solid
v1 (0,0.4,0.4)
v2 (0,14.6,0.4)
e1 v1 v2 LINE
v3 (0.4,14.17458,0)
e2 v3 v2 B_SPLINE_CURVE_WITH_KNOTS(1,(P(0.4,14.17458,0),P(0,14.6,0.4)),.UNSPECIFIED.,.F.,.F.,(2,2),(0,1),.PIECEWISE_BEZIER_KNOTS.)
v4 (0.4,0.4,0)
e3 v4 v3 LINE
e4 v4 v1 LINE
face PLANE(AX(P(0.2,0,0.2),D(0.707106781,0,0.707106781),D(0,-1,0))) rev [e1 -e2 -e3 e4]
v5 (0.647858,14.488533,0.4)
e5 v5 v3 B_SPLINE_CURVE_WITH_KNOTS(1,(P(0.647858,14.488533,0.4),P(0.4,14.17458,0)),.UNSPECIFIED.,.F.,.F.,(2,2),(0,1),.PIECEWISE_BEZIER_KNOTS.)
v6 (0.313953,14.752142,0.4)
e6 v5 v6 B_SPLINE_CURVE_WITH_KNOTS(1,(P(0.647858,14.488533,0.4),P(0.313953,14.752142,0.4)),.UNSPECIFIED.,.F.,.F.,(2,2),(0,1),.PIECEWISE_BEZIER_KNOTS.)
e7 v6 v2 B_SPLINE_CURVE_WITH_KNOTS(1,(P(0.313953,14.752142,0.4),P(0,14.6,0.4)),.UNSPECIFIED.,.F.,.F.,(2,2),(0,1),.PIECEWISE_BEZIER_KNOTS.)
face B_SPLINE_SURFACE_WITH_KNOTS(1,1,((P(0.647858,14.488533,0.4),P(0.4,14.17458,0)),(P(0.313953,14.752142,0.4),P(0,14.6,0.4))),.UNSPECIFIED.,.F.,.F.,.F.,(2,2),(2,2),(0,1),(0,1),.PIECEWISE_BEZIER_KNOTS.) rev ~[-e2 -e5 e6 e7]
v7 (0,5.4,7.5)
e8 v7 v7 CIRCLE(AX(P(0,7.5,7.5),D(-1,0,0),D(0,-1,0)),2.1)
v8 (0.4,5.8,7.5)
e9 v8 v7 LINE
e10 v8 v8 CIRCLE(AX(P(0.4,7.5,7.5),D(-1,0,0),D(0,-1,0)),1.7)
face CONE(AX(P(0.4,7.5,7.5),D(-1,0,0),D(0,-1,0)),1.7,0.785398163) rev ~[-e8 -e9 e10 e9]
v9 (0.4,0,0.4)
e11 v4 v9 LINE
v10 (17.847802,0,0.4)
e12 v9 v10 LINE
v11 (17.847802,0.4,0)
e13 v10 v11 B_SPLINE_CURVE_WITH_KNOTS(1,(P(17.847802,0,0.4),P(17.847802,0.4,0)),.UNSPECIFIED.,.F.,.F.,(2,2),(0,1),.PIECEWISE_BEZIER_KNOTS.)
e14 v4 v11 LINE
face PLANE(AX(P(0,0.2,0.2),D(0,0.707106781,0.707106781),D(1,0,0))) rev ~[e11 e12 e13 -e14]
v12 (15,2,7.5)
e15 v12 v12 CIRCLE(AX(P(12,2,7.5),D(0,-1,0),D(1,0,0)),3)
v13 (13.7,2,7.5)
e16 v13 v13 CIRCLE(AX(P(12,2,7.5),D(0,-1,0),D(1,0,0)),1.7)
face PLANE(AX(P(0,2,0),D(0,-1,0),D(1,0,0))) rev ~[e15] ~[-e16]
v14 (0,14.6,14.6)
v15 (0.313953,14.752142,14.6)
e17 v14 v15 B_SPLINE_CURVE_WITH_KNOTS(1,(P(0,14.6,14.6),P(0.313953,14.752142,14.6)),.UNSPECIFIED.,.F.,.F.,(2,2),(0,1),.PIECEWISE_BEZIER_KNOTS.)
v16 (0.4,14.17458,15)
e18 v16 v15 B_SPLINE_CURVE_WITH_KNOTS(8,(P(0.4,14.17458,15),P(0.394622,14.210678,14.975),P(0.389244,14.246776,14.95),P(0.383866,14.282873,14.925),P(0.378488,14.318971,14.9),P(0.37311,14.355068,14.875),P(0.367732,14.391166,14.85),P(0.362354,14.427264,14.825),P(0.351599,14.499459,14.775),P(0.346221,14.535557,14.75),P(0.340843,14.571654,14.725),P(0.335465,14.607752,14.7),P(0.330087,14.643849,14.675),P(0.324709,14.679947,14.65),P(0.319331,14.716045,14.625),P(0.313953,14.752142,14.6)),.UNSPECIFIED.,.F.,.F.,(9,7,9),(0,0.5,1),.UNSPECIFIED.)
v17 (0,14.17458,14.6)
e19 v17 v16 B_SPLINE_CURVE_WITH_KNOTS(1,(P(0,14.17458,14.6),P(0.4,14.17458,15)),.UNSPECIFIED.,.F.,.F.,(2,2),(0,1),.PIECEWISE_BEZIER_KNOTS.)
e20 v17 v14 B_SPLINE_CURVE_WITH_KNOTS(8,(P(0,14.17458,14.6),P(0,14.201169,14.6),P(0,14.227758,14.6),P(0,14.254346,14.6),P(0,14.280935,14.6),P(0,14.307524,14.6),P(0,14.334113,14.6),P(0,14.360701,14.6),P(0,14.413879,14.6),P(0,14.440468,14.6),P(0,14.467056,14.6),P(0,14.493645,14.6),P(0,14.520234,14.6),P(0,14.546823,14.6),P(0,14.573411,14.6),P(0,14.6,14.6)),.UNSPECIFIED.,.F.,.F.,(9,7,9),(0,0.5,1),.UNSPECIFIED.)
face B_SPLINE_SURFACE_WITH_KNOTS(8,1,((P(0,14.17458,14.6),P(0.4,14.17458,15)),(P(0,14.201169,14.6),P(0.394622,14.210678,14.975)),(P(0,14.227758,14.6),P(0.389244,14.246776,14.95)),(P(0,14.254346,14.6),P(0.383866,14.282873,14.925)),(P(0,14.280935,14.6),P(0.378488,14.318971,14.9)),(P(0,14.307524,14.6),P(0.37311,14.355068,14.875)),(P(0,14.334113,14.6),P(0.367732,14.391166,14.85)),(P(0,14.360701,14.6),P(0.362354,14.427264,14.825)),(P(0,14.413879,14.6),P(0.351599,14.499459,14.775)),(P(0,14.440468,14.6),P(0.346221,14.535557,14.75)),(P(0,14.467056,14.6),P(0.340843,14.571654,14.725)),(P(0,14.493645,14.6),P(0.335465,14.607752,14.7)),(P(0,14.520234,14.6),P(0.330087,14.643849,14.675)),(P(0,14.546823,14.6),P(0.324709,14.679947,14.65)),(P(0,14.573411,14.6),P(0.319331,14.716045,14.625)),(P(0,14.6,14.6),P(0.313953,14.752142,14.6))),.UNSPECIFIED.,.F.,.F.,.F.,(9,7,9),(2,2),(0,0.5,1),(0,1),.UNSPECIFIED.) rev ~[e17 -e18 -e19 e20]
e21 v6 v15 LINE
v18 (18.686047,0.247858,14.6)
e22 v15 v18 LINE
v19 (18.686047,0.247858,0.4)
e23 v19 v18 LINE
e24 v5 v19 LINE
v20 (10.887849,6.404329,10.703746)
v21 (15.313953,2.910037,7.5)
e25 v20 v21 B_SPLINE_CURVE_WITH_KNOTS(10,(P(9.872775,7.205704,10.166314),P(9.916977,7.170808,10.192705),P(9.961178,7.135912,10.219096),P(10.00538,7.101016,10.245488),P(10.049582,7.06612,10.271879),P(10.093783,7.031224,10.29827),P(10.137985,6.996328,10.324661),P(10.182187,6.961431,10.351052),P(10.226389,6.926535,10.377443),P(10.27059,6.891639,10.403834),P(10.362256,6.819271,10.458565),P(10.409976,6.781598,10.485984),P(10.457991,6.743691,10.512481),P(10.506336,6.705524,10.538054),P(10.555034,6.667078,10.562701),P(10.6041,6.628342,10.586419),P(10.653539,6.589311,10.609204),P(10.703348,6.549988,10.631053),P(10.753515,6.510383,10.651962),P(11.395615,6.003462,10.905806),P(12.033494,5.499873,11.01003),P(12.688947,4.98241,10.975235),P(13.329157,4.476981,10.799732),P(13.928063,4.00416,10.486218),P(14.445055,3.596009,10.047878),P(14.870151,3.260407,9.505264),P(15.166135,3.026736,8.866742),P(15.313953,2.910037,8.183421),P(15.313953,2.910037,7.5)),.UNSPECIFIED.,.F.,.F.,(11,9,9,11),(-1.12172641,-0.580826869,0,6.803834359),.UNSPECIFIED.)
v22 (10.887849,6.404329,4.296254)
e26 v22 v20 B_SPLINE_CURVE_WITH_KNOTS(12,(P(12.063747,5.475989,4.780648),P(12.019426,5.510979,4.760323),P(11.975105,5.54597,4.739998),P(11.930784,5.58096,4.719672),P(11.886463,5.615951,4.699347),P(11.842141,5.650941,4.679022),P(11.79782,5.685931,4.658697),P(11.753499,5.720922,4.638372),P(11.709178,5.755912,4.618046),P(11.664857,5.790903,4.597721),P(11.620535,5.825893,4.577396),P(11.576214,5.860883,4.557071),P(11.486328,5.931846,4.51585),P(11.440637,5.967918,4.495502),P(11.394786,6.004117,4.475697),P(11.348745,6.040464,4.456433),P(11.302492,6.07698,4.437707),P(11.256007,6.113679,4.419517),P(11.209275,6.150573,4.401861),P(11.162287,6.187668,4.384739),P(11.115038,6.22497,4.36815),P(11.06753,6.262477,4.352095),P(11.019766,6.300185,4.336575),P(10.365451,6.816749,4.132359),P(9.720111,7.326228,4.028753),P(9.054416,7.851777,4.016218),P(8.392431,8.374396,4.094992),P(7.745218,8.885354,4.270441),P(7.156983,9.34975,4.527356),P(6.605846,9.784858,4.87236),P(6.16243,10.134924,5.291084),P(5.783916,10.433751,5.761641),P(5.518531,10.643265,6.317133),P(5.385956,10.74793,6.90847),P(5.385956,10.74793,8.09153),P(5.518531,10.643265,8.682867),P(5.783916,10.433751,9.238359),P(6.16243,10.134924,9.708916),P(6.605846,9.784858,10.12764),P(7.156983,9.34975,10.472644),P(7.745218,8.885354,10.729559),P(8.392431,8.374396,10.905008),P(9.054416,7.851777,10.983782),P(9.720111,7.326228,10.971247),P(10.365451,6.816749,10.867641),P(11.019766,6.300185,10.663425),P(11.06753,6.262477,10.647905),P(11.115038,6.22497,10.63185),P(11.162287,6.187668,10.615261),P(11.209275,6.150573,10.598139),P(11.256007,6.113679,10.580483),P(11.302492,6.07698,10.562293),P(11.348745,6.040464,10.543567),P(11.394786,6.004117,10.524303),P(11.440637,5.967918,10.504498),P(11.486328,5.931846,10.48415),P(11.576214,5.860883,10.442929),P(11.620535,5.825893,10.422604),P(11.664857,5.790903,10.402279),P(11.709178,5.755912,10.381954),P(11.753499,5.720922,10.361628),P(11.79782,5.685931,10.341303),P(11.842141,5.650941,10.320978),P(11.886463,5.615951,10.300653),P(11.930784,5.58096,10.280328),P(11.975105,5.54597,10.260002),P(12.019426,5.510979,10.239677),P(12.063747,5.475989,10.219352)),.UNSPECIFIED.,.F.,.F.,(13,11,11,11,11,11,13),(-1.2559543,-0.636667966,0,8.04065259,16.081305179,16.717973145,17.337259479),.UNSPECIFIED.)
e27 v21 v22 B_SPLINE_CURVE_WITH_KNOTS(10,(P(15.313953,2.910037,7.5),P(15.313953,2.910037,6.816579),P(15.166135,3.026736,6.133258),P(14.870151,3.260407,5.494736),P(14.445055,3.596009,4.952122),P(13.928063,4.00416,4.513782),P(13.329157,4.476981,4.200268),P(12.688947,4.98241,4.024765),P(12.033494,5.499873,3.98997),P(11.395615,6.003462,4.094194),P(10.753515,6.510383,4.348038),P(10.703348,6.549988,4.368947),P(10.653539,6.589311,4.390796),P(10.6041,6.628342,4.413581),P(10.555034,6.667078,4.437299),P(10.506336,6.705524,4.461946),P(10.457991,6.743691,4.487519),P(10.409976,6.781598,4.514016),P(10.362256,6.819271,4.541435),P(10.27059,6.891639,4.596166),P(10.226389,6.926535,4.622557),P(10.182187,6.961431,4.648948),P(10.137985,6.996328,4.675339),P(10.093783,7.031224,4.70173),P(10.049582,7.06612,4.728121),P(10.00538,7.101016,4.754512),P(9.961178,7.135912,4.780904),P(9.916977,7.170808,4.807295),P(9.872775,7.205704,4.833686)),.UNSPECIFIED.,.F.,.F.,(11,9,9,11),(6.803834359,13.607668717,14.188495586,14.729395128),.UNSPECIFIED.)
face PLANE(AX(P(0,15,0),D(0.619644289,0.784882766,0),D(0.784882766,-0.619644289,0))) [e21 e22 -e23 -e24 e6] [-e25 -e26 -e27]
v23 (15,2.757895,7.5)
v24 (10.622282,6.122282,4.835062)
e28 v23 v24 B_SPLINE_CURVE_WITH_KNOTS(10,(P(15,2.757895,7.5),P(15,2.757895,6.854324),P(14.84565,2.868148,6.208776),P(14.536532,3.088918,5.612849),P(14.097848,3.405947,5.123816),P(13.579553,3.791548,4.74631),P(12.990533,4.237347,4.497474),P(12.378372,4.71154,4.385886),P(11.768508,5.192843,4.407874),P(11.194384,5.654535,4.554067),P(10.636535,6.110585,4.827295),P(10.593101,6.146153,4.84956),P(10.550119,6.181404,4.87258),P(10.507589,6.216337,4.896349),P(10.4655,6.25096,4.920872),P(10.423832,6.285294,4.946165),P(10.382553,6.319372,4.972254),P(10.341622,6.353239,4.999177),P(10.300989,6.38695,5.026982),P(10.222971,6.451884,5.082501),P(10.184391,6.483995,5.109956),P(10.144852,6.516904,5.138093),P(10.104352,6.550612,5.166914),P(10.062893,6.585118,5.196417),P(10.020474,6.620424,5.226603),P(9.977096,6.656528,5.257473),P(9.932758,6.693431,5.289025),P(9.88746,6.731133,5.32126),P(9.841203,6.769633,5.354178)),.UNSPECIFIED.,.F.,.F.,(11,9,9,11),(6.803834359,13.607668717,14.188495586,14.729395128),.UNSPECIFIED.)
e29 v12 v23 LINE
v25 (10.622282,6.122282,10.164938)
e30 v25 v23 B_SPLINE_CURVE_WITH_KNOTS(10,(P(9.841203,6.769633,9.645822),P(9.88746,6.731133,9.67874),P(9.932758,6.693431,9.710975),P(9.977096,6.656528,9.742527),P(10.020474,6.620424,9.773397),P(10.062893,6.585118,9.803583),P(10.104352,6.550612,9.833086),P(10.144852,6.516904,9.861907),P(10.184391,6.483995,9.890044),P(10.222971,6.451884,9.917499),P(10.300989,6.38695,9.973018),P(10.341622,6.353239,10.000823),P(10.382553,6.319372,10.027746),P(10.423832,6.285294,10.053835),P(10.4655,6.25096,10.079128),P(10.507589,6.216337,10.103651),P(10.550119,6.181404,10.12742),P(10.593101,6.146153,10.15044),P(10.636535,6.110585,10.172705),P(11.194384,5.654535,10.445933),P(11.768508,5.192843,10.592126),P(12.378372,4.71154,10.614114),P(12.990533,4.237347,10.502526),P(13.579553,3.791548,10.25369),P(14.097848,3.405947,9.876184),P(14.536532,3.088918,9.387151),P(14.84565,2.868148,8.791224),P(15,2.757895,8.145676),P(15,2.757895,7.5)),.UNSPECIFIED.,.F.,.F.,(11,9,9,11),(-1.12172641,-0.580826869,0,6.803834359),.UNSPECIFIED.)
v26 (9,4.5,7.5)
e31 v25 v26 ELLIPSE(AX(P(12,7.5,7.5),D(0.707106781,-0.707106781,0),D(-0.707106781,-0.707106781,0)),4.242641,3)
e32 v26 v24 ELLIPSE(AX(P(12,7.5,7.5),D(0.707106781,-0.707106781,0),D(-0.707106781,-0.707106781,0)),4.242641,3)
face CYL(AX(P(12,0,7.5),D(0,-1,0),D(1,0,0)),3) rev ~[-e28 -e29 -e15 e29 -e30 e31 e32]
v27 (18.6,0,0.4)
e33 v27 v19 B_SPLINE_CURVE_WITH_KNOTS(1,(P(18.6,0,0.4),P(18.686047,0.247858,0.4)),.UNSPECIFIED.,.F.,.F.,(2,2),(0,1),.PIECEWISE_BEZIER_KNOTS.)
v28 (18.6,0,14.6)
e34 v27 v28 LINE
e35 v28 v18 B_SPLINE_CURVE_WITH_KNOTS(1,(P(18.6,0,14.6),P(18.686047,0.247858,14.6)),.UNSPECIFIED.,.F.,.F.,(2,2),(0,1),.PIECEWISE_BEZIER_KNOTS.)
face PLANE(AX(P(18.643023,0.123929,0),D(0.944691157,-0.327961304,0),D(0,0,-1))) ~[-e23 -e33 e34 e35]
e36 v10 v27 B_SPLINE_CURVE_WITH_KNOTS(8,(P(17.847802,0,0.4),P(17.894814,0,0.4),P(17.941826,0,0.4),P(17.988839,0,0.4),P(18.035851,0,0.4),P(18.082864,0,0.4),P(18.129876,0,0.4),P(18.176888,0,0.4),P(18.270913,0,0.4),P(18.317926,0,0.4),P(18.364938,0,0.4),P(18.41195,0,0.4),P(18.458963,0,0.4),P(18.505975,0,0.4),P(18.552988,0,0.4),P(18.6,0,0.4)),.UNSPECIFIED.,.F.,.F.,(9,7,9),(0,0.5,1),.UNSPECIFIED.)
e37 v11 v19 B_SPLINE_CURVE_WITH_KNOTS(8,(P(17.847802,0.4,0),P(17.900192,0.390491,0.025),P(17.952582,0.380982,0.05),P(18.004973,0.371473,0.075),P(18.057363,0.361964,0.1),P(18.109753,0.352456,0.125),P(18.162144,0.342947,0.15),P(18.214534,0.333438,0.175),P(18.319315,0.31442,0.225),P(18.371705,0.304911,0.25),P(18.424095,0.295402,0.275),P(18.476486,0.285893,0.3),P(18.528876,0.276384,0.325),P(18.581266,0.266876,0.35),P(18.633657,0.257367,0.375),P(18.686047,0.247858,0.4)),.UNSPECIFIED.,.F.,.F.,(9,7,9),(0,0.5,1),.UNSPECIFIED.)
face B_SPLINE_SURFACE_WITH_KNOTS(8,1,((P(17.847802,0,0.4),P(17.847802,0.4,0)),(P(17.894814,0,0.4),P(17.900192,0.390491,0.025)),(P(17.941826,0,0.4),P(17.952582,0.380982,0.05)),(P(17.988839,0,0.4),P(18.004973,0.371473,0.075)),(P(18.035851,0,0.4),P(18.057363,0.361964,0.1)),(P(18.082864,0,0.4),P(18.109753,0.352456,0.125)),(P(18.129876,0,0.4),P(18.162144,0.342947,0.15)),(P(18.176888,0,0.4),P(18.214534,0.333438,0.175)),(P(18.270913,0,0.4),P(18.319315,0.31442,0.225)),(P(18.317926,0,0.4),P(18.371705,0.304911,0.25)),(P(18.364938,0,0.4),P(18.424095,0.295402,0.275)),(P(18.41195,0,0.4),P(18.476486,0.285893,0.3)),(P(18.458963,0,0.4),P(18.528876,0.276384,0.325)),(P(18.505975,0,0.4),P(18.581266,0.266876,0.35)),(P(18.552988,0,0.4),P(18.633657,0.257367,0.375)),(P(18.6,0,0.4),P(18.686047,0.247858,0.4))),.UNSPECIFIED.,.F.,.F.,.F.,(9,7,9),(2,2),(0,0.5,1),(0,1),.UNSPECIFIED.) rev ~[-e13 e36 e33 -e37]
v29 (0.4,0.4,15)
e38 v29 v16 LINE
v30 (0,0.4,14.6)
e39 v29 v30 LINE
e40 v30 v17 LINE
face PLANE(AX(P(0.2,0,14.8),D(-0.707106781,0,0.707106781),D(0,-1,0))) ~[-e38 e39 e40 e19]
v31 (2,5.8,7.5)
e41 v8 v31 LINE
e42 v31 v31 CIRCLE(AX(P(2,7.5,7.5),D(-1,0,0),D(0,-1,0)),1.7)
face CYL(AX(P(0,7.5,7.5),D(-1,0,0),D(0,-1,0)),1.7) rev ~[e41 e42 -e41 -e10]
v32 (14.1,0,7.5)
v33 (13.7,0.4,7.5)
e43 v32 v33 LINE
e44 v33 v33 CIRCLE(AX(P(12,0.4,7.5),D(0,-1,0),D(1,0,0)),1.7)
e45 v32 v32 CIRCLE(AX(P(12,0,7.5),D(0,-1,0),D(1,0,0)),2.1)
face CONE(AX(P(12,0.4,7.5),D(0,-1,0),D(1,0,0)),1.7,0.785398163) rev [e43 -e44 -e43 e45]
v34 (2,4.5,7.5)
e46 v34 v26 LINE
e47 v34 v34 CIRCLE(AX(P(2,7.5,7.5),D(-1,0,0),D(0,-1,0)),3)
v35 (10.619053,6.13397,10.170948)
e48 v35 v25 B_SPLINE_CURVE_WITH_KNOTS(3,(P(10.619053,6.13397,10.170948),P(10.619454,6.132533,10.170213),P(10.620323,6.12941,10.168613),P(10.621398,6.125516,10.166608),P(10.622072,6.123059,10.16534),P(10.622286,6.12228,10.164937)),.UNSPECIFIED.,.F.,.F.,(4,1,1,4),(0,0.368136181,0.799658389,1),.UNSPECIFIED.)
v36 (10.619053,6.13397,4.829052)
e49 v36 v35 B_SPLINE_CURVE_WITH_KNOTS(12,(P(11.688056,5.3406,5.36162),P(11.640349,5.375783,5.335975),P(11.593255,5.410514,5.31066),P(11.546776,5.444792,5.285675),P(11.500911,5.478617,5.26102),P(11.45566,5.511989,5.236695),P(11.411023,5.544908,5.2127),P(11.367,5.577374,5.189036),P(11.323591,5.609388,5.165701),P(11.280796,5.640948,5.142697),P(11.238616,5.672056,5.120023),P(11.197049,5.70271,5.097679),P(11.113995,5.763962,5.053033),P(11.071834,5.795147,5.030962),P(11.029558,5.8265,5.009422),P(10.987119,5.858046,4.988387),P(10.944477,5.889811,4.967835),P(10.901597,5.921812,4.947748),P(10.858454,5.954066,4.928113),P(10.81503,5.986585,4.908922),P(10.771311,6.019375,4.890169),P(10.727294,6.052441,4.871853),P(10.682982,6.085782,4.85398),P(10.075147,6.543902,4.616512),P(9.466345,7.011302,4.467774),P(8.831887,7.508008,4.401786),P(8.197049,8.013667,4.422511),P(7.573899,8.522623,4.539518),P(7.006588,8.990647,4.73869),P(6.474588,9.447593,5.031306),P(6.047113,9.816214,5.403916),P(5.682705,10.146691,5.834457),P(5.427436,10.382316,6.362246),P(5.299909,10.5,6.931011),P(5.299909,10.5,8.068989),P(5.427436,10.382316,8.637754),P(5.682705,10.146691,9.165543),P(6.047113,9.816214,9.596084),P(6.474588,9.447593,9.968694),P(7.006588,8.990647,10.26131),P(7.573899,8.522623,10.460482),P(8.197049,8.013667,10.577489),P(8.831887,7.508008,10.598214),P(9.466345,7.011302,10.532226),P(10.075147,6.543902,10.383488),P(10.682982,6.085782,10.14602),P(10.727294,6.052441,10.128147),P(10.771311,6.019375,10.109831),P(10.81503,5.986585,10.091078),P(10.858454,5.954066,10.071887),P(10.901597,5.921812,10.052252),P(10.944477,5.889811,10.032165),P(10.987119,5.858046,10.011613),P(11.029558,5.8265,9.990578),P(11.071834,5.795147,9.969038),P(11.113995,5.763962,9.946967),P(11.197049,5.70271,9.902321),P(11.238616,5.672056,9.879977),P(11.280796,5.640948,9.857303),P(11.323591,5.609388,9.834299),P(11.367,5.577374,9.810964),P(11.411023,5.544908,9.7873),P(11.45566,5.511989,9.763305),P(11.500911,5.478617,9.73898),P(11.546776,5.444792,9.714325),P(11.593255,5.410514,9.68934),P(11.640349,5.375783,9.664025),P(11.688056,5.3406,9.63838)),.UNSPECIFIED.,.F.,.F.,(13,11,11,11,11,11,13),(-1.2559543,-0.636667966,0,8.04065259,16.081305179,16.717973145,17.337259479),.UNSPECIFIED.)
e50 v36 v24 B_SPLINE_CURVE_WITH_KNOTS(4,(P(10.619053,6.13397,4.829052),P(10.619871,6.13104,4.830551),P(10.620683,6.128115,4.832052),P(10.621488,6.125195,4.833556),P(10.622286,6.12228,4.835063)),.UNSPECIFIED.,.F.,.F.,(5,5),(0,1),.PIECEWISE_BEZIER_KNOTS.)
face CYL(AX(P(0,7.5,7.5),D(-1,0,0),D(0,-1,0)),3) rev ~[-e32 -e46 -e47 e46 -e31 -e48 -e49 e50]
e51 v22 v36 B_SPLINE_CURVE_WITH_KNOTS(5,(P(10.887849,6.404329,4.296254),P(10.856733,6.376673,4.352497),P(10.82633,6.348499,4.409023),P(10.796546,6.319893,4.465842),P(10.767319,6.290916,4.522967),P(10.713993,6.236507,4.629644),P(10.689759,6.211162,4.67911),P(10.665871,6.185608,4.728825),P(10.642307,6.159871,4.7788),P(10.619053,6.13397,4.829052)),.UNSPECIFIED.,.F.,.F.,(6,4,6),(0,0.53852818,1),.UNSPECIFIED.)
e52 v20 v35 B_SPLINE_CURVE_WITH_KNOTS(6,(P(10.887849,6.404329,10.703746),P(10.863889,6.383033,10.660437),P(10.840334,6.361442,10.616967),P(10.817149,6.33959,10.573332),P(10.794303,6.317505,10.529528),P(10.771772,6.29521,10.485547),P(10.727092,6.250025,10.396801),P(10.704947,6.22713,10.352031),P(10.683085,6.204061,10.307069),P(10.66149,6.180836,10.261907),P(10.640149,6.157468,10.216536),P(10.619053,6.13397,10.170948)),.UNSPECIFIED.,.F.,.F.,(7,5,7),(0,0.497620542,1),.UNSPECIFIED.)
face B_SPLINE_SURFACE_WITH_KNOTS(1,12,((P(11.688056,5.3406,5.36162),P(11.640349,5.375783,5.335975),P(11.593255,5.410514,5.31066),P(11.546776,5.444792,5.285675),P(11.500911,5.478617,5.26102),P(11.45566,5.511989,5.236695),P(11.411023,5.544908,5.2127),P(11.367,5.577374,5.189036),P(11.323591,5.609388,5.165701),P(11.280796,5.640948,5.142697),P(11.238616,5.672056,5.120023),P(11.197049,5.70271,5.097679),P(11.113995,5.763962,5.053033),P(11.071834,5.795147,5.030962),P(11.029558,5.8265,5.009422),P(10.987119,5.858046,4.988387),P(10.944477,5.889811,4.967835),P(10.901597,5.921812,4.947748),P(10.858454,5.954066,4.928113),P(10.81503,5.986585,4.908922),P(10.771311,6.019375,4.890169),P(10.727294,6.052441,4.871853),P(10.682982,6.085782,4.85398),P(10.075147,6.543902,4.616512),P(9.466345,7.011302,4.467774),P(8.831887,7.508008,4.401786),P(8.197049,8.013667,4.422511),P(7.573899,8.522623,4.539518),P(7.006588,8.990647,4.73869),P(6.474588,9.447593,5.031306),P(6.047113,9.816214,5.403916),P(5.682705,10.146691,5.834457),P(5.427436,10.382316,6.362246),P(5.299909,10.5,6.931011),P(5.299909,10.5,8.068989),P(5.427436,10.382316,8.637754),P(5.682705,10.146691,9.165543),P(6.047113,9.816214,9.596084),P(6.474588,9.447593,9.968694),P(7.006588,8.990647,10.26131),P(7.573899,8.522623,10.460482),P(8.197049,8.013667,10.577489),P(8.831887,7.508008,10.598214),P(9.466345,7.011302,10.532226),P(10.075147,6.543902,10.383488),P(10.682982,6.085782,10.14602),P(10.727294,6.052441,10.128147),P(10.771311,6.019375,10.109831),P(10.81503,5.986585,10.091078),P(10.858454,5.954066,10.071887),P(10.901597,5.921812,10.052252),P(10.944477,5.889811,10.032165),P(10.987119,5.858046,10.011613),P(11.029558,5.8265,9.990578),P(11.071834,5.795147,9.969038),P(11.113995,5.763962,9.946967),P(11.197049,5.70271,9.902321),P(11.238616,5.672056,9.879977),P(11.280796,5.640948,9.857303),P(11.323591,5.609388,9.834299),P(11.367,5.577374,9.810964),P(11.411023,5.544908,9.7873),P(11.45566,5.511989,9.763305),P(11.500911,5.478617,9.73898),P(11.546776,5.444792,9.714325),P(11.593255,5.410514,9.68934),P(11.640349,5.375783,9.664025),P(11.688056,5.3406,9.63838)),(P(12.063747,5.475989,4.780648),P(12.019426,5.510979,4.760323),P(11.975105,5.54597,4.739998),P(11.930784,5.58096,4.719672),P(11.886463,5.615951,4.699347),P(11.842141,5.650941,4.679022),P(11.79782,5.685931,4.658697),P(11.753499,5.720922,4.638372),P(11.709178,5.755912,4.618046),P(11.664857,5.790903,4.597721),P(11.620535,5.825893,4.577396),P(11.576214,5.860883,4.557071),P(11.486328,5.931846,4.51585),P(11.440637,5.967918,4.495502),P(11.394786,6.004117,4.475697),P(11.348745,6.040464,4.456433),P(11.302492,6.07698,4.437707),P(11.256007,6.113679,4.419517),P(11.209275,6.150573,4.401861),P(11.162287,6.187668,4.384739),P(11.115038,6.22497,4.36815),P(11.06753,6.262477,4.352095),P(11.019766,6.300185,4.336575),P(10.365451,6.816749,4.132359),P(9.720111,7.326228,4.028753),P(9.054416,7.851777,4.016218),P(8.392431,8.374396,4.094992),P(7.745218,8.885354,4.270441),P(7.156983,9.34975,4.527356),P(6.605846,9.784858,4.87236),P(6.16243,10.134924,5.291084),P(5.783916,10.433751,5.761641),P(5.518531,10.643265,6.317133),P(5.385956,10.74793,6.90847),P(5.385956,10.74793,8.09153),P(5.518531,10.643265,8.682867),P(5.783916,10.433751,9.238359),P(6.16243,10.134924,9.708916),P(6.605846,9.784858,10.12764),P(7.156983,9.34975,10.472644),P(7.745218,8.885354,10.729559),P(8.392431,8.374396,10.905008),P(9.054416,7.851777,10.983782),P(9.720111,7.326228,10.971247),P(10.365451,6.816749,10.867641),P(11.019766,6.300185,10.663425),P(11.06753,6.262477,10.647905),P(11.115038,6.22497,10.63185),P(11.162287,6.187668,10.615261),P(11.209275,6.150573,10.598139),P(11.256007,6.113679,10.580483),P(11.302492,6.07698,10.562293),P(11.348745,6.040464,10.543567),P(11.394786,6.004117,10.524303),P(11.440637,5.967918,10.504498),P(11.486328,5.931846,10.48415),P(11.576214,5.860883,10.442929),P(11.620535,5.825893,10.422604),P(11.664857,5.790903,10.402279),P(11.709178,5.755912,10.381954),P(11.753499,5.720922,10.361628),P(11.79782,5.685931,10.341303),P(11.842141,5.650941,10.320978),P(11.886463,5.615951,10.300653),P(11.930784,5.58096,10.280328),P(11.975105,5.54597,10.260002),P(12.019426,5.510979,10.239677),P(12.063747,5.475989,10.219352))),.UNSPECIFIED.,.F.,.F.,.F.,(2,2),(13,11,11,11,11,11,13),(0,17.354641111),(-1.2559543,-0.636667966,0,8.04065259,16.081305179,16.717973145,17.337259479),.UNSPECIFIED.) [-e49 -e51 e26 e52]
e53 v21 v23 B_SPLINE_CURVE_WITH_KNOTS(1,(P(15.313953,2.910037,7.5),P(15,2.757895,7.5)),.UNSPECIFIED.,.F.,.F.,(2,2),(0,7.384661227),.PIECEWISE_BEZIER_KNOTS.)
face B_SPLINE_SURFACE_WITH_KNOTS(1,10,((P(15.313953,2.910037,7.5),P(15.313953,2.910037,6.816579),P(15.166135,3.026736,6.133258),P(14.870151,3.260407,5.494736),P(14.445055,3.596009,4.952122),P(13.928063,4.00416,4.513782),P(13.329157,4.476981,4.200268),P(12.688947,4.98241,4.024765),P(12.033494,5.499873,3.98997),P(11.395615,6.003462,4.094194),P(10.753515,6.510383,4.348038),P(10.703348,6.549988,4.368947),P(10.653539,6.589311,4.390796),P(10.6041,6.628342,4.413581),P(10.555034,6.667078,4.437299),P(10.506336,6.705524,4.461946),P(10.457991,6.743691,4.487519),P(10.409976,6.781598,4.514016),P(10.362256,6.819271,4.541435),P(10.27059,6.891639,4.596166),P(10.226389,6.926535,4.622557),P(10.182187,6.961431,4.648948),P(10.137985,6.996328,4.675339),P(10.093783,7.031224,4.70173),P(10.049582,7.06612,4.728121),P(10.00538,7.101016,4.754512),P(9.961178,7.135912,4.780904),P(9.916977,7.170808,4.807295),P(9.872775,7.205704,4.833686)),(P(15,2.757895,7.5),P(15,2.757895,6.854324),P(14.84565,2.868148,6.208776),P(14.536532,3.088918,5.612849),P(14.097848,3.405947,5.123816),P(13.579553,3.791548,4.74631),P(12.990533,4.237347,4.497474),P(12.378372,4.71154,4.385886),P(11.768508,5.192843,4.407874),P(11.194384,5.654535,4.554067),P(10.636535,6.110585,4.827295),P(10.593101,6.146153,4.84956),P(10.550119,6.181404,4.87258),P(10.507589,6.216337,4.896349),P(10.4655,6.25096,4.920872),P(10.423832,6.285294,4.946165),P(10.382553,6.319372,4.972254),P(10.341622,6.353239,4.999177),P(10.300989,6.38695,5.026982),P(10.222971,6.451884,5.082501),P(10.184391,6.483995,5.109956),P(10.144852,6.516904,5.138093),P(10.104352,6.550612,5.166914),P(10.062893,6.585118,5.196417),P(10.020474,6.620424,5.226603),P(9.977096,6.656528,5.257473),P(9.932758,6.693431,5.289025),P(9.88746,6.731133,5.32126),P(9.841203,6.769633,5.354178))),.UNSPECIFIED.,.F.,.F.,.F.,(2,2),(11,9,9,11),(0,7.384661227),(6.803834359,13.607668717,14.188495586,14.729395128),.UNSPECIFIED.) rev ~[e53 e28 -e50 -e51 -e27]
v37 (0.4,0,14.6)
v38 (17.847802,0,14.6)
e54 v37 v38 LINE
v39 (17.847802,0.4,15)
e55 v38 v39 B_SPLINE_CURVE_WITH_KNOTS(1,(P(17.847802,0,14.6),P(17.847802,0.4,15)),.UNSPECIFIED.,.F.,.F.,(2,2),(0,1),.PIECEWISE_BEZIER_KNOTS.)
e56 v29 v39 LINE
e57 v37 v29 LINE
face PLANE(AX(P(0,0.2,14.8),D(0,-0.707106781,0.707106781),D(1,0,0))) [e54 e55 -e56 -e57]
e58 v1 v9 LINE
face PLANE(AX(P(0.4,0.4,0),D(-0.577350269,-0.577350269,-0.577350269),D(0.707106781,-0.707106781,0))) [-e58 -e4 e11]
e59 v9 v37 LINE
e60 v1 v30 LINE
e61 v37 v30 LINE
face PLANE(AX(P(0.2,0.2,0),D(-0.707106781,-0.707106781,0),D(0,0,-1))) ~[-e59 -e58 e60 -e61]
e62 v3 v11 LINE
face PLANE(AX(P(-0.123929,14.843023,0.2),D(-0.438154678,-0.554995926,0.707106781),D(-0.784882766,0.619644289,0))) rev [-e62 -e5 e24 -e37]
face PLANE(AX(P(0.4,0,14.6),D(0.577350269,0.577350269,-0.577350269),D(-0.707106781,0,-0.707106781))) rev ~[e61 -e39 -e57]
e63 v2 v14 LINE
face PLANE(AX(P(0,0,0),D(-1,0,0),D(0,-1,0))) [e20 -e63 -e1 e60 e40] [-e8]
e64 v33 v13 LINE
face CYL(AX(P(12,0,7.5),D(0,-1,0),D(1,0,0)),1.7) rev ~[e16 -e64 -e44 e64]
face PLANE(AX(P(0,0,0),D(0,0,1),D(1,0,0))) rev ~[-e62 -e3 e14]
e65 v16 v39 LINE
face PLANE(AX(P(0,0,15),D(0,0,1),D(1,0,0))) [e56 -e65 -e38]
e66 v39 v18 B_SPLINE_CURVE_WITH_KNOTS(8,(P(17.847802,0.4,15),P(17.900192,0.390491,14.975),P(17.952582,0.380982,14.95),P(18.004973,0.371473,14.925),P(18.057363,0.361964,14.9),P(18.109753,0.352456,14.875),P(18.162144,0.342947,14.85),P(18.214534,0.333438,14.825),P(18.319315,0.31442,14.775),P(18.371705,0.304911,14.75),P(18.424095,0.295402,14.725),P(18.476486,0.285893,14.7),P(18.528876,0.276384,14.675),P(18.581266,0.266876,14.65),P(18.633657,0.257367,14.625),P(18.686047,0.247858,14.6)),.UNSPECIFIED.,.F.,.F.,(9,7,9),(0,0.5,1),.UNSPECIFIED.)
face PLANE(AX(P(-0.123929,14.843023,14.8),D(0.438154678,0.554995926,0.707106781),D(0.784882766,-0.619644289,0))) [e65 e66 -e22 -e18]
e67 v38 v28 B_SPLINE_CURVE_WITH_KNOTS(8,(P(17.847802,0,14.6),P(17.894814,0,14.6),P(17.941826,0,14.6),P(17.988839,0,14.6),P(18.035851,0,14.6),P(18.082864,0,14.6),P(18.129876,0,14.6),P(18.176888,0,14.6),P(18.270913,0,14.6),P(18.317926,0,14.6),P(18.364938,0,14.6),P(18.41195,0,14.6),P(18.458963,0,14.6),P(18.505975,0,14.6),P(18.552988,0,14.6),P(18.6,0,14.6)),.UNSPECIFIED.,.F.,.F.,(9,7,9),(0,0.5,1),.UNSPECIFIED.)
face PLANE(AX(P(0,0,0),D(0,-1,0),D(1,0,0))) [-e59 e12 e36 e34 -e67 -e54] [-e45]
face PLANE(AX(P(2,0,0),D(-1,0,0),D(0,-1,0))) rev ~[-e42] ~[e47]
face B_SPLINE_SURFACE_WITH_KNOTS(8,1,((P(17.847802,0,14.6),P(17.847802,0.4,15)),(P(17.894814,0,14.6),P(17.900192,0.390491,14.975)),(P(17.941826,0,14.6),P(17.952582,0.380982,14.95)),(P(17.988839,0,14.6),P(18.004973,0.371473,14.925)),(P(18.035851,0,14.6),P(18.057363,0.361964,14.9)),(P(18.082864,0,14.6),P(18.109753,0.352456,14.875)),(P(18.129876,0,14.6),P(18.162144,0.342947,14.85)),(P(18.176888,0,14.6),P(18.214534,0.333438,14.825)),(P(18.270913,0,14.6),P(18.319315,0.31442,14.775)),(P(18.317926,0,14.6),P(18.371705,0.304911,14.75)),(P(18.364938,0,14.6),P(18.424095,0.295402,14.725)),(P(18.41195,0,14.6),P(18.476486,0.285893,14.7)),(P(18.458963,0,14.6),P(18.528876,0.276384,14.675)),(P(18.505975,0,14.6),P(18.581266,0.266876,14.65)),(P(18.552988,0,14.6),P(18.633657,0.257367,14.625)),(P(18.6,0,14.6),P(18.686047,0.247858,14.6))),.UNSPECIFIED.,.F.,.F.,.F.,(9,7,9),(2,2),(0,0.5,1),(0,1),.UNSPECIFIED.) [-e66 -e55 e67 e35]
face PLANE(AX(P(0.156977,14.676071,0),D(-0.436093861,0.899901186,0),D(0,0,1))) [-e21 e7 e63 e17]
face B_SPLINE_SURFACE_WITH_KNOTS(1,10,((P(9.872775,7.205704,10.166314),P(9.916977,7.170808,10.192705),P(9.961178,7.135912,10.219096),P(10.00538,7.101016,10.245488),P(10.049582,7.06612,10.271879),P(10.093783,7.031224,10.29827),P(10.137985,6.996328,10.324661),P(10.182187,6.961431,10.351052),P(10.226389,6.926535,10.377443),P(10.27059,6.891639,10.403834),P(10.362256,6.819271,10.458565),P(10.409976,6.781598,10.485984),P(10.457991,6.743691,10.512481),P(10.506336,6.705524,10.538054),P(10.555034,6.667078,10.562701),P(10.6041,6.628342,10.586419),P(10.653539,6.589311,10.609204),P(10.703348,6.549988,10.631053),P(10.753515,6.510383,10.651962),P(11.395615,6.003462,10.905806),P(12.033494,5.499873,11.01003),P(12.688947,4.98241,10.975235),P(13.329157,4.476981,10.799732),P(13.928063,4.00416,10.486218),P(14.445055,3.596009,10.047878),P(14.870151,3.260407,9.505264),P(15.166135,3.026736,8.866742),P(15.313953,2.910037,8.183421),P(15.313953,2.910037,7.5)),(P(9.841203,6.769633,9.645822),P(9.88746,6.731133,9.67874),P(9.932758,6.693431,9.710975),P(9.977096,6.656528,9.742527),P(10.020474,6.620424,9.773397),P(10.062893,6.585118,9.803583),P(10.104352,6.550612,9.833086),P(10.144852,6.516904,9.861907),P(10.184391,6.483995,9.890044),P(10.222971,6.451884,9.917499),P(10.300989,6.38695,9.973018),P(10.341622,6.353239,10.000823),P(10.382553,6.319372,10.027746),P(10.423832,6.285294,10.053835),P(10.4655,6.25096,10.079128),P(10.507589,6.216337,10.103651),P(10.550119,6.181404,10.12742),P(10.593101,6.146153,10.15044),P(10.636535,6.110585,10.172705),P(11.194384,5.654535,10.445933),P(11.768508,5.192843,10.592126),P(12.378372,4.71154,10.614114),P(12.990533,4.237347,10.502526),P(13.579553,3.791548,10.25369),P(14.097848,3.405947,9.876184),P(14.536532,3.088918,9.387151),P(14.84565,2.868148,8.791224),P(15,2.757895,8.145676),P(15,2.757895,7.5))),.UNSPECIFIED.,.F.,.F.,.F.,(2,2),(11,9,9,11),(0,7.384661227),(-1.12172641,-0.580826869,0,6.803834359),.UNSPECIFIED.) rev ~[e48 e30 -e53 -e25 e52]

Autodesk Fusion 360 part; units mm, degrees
sketch "Sketch1" plane through (0, 0, 0) normal (0, 0, 1) x (1, 0, 0)
  line L0 (0, 0) -> (19, 0)
  line L1 (0, 0) -> (0, 15)
  line L2 (0, 15) -> (19, 0)
  dimension "d1" = 19
  dimension "d2" = 15
extrude "Extrude1" add sketch "Sketch1" along normal blind 15
sketch "cable_holes" plane through (0, 0, 0) normal (0, -1, 0) x (1, 0, 0)
  line L0 (0, 0) -> (19, 0)
  line L1 (19, 0) -> (19, 15)
  line L2 (19, 15) -> (0, 15)
  line L3 (0, 15) -> (0, 0)
  circle A0 centre (4.2, 10.7) radius 1.7
  circle A1 centre (4.2, 4.3) radius 1.7
  circle A2 centre (12, 7.5) radius 1.7
  line L4 (19, 7.5) -> (0, 7.5) construction
  circle A3 centre (4.2, 10.7) radius 3
  circle A4 centre (4.2, 4.3) radius 3
  circle A5 centre (12, 7.5) radius 3
  dimension "d7" = 3.4
  dimension "d8" = 3.4
  dimension "d9" = 3.4
  dimension "d10" = 4.2
  dimension "d11" = 4.2
  dimension "d12" = 6.4
  dimension "d13" = 12
  dimension "d14" = 4.3
  dimension "d20" = 6
  dimension "d21" = 6
  dimension "d22" = 6
extrude "Extrude2" cut sketch "cable_holes" against normal blind 15 contours A2 | A5
extrude "Extrude4" add sketch "cable_holes" against normal blind 2 contours A5
sketch "Sketch3" plane through (0, 0, 0) normal (-1, 0, 0) x (0, -1, 0)
  line L0 (-15, 0) -> (0, 0)
  line L1 (0, 0) -> (0, 15)
  line L2 (0, 15) -> (-15, 15)
  line L3 (-15, 15) -> (-15, 0)
  circle A0 centre (-7.5, 7.5) radius 1.7
  line L4 (-7.5, 15) -> (-7.5, 0) construction
  line L5 (-15, 7.5) -> (0, 7.5) construction
  circle A1 centre (-7.5, 7.5) radius 3
  dimension "d17" = 3.4
  dimension "d25" = 6
extrude "Extrude3" cut sketch "Sketch3" against normal blind 15 contours A0 | A1
extrude "Extrude5" add sketch "Sketch3" against normal blind 2 contours A1
chamfer "Chamfer1" distance 0.4 angle 45 4 edges at (15, 3.1579, 7.5) (5.7, 10.5, 7.5) (0, 9.085, 8.1147) (10.415, 0, 8.1147)
chamfer "Chamfer2" distance 0.4 angle 45 9 edges at (9.5, 7.5, 15) (0, 7.5, 15) (9.5, 0, 15) (19, 0, 7.5) (0, 15, 7.5) (0, 0, 7.5) (0, 7.5, 0) (9.5, 7.5, 0) (9.5, 0, 0)
equation "inner_hole = 3.4 mm"
equation "outer_hole = 6 mm"
equation "d7 = inner_hole"
equation "d8 = inner_hole"
equation "d9 = inner_hole"
equation "d13 = 4.2 mm + 7.8 mm"
equation "d17 = inner_hole"
equation "d20 = outer_hole"
equation "d21 = outer_hole"
equation "d22 = outer_hole"
equation "d25 = outer_hole"
